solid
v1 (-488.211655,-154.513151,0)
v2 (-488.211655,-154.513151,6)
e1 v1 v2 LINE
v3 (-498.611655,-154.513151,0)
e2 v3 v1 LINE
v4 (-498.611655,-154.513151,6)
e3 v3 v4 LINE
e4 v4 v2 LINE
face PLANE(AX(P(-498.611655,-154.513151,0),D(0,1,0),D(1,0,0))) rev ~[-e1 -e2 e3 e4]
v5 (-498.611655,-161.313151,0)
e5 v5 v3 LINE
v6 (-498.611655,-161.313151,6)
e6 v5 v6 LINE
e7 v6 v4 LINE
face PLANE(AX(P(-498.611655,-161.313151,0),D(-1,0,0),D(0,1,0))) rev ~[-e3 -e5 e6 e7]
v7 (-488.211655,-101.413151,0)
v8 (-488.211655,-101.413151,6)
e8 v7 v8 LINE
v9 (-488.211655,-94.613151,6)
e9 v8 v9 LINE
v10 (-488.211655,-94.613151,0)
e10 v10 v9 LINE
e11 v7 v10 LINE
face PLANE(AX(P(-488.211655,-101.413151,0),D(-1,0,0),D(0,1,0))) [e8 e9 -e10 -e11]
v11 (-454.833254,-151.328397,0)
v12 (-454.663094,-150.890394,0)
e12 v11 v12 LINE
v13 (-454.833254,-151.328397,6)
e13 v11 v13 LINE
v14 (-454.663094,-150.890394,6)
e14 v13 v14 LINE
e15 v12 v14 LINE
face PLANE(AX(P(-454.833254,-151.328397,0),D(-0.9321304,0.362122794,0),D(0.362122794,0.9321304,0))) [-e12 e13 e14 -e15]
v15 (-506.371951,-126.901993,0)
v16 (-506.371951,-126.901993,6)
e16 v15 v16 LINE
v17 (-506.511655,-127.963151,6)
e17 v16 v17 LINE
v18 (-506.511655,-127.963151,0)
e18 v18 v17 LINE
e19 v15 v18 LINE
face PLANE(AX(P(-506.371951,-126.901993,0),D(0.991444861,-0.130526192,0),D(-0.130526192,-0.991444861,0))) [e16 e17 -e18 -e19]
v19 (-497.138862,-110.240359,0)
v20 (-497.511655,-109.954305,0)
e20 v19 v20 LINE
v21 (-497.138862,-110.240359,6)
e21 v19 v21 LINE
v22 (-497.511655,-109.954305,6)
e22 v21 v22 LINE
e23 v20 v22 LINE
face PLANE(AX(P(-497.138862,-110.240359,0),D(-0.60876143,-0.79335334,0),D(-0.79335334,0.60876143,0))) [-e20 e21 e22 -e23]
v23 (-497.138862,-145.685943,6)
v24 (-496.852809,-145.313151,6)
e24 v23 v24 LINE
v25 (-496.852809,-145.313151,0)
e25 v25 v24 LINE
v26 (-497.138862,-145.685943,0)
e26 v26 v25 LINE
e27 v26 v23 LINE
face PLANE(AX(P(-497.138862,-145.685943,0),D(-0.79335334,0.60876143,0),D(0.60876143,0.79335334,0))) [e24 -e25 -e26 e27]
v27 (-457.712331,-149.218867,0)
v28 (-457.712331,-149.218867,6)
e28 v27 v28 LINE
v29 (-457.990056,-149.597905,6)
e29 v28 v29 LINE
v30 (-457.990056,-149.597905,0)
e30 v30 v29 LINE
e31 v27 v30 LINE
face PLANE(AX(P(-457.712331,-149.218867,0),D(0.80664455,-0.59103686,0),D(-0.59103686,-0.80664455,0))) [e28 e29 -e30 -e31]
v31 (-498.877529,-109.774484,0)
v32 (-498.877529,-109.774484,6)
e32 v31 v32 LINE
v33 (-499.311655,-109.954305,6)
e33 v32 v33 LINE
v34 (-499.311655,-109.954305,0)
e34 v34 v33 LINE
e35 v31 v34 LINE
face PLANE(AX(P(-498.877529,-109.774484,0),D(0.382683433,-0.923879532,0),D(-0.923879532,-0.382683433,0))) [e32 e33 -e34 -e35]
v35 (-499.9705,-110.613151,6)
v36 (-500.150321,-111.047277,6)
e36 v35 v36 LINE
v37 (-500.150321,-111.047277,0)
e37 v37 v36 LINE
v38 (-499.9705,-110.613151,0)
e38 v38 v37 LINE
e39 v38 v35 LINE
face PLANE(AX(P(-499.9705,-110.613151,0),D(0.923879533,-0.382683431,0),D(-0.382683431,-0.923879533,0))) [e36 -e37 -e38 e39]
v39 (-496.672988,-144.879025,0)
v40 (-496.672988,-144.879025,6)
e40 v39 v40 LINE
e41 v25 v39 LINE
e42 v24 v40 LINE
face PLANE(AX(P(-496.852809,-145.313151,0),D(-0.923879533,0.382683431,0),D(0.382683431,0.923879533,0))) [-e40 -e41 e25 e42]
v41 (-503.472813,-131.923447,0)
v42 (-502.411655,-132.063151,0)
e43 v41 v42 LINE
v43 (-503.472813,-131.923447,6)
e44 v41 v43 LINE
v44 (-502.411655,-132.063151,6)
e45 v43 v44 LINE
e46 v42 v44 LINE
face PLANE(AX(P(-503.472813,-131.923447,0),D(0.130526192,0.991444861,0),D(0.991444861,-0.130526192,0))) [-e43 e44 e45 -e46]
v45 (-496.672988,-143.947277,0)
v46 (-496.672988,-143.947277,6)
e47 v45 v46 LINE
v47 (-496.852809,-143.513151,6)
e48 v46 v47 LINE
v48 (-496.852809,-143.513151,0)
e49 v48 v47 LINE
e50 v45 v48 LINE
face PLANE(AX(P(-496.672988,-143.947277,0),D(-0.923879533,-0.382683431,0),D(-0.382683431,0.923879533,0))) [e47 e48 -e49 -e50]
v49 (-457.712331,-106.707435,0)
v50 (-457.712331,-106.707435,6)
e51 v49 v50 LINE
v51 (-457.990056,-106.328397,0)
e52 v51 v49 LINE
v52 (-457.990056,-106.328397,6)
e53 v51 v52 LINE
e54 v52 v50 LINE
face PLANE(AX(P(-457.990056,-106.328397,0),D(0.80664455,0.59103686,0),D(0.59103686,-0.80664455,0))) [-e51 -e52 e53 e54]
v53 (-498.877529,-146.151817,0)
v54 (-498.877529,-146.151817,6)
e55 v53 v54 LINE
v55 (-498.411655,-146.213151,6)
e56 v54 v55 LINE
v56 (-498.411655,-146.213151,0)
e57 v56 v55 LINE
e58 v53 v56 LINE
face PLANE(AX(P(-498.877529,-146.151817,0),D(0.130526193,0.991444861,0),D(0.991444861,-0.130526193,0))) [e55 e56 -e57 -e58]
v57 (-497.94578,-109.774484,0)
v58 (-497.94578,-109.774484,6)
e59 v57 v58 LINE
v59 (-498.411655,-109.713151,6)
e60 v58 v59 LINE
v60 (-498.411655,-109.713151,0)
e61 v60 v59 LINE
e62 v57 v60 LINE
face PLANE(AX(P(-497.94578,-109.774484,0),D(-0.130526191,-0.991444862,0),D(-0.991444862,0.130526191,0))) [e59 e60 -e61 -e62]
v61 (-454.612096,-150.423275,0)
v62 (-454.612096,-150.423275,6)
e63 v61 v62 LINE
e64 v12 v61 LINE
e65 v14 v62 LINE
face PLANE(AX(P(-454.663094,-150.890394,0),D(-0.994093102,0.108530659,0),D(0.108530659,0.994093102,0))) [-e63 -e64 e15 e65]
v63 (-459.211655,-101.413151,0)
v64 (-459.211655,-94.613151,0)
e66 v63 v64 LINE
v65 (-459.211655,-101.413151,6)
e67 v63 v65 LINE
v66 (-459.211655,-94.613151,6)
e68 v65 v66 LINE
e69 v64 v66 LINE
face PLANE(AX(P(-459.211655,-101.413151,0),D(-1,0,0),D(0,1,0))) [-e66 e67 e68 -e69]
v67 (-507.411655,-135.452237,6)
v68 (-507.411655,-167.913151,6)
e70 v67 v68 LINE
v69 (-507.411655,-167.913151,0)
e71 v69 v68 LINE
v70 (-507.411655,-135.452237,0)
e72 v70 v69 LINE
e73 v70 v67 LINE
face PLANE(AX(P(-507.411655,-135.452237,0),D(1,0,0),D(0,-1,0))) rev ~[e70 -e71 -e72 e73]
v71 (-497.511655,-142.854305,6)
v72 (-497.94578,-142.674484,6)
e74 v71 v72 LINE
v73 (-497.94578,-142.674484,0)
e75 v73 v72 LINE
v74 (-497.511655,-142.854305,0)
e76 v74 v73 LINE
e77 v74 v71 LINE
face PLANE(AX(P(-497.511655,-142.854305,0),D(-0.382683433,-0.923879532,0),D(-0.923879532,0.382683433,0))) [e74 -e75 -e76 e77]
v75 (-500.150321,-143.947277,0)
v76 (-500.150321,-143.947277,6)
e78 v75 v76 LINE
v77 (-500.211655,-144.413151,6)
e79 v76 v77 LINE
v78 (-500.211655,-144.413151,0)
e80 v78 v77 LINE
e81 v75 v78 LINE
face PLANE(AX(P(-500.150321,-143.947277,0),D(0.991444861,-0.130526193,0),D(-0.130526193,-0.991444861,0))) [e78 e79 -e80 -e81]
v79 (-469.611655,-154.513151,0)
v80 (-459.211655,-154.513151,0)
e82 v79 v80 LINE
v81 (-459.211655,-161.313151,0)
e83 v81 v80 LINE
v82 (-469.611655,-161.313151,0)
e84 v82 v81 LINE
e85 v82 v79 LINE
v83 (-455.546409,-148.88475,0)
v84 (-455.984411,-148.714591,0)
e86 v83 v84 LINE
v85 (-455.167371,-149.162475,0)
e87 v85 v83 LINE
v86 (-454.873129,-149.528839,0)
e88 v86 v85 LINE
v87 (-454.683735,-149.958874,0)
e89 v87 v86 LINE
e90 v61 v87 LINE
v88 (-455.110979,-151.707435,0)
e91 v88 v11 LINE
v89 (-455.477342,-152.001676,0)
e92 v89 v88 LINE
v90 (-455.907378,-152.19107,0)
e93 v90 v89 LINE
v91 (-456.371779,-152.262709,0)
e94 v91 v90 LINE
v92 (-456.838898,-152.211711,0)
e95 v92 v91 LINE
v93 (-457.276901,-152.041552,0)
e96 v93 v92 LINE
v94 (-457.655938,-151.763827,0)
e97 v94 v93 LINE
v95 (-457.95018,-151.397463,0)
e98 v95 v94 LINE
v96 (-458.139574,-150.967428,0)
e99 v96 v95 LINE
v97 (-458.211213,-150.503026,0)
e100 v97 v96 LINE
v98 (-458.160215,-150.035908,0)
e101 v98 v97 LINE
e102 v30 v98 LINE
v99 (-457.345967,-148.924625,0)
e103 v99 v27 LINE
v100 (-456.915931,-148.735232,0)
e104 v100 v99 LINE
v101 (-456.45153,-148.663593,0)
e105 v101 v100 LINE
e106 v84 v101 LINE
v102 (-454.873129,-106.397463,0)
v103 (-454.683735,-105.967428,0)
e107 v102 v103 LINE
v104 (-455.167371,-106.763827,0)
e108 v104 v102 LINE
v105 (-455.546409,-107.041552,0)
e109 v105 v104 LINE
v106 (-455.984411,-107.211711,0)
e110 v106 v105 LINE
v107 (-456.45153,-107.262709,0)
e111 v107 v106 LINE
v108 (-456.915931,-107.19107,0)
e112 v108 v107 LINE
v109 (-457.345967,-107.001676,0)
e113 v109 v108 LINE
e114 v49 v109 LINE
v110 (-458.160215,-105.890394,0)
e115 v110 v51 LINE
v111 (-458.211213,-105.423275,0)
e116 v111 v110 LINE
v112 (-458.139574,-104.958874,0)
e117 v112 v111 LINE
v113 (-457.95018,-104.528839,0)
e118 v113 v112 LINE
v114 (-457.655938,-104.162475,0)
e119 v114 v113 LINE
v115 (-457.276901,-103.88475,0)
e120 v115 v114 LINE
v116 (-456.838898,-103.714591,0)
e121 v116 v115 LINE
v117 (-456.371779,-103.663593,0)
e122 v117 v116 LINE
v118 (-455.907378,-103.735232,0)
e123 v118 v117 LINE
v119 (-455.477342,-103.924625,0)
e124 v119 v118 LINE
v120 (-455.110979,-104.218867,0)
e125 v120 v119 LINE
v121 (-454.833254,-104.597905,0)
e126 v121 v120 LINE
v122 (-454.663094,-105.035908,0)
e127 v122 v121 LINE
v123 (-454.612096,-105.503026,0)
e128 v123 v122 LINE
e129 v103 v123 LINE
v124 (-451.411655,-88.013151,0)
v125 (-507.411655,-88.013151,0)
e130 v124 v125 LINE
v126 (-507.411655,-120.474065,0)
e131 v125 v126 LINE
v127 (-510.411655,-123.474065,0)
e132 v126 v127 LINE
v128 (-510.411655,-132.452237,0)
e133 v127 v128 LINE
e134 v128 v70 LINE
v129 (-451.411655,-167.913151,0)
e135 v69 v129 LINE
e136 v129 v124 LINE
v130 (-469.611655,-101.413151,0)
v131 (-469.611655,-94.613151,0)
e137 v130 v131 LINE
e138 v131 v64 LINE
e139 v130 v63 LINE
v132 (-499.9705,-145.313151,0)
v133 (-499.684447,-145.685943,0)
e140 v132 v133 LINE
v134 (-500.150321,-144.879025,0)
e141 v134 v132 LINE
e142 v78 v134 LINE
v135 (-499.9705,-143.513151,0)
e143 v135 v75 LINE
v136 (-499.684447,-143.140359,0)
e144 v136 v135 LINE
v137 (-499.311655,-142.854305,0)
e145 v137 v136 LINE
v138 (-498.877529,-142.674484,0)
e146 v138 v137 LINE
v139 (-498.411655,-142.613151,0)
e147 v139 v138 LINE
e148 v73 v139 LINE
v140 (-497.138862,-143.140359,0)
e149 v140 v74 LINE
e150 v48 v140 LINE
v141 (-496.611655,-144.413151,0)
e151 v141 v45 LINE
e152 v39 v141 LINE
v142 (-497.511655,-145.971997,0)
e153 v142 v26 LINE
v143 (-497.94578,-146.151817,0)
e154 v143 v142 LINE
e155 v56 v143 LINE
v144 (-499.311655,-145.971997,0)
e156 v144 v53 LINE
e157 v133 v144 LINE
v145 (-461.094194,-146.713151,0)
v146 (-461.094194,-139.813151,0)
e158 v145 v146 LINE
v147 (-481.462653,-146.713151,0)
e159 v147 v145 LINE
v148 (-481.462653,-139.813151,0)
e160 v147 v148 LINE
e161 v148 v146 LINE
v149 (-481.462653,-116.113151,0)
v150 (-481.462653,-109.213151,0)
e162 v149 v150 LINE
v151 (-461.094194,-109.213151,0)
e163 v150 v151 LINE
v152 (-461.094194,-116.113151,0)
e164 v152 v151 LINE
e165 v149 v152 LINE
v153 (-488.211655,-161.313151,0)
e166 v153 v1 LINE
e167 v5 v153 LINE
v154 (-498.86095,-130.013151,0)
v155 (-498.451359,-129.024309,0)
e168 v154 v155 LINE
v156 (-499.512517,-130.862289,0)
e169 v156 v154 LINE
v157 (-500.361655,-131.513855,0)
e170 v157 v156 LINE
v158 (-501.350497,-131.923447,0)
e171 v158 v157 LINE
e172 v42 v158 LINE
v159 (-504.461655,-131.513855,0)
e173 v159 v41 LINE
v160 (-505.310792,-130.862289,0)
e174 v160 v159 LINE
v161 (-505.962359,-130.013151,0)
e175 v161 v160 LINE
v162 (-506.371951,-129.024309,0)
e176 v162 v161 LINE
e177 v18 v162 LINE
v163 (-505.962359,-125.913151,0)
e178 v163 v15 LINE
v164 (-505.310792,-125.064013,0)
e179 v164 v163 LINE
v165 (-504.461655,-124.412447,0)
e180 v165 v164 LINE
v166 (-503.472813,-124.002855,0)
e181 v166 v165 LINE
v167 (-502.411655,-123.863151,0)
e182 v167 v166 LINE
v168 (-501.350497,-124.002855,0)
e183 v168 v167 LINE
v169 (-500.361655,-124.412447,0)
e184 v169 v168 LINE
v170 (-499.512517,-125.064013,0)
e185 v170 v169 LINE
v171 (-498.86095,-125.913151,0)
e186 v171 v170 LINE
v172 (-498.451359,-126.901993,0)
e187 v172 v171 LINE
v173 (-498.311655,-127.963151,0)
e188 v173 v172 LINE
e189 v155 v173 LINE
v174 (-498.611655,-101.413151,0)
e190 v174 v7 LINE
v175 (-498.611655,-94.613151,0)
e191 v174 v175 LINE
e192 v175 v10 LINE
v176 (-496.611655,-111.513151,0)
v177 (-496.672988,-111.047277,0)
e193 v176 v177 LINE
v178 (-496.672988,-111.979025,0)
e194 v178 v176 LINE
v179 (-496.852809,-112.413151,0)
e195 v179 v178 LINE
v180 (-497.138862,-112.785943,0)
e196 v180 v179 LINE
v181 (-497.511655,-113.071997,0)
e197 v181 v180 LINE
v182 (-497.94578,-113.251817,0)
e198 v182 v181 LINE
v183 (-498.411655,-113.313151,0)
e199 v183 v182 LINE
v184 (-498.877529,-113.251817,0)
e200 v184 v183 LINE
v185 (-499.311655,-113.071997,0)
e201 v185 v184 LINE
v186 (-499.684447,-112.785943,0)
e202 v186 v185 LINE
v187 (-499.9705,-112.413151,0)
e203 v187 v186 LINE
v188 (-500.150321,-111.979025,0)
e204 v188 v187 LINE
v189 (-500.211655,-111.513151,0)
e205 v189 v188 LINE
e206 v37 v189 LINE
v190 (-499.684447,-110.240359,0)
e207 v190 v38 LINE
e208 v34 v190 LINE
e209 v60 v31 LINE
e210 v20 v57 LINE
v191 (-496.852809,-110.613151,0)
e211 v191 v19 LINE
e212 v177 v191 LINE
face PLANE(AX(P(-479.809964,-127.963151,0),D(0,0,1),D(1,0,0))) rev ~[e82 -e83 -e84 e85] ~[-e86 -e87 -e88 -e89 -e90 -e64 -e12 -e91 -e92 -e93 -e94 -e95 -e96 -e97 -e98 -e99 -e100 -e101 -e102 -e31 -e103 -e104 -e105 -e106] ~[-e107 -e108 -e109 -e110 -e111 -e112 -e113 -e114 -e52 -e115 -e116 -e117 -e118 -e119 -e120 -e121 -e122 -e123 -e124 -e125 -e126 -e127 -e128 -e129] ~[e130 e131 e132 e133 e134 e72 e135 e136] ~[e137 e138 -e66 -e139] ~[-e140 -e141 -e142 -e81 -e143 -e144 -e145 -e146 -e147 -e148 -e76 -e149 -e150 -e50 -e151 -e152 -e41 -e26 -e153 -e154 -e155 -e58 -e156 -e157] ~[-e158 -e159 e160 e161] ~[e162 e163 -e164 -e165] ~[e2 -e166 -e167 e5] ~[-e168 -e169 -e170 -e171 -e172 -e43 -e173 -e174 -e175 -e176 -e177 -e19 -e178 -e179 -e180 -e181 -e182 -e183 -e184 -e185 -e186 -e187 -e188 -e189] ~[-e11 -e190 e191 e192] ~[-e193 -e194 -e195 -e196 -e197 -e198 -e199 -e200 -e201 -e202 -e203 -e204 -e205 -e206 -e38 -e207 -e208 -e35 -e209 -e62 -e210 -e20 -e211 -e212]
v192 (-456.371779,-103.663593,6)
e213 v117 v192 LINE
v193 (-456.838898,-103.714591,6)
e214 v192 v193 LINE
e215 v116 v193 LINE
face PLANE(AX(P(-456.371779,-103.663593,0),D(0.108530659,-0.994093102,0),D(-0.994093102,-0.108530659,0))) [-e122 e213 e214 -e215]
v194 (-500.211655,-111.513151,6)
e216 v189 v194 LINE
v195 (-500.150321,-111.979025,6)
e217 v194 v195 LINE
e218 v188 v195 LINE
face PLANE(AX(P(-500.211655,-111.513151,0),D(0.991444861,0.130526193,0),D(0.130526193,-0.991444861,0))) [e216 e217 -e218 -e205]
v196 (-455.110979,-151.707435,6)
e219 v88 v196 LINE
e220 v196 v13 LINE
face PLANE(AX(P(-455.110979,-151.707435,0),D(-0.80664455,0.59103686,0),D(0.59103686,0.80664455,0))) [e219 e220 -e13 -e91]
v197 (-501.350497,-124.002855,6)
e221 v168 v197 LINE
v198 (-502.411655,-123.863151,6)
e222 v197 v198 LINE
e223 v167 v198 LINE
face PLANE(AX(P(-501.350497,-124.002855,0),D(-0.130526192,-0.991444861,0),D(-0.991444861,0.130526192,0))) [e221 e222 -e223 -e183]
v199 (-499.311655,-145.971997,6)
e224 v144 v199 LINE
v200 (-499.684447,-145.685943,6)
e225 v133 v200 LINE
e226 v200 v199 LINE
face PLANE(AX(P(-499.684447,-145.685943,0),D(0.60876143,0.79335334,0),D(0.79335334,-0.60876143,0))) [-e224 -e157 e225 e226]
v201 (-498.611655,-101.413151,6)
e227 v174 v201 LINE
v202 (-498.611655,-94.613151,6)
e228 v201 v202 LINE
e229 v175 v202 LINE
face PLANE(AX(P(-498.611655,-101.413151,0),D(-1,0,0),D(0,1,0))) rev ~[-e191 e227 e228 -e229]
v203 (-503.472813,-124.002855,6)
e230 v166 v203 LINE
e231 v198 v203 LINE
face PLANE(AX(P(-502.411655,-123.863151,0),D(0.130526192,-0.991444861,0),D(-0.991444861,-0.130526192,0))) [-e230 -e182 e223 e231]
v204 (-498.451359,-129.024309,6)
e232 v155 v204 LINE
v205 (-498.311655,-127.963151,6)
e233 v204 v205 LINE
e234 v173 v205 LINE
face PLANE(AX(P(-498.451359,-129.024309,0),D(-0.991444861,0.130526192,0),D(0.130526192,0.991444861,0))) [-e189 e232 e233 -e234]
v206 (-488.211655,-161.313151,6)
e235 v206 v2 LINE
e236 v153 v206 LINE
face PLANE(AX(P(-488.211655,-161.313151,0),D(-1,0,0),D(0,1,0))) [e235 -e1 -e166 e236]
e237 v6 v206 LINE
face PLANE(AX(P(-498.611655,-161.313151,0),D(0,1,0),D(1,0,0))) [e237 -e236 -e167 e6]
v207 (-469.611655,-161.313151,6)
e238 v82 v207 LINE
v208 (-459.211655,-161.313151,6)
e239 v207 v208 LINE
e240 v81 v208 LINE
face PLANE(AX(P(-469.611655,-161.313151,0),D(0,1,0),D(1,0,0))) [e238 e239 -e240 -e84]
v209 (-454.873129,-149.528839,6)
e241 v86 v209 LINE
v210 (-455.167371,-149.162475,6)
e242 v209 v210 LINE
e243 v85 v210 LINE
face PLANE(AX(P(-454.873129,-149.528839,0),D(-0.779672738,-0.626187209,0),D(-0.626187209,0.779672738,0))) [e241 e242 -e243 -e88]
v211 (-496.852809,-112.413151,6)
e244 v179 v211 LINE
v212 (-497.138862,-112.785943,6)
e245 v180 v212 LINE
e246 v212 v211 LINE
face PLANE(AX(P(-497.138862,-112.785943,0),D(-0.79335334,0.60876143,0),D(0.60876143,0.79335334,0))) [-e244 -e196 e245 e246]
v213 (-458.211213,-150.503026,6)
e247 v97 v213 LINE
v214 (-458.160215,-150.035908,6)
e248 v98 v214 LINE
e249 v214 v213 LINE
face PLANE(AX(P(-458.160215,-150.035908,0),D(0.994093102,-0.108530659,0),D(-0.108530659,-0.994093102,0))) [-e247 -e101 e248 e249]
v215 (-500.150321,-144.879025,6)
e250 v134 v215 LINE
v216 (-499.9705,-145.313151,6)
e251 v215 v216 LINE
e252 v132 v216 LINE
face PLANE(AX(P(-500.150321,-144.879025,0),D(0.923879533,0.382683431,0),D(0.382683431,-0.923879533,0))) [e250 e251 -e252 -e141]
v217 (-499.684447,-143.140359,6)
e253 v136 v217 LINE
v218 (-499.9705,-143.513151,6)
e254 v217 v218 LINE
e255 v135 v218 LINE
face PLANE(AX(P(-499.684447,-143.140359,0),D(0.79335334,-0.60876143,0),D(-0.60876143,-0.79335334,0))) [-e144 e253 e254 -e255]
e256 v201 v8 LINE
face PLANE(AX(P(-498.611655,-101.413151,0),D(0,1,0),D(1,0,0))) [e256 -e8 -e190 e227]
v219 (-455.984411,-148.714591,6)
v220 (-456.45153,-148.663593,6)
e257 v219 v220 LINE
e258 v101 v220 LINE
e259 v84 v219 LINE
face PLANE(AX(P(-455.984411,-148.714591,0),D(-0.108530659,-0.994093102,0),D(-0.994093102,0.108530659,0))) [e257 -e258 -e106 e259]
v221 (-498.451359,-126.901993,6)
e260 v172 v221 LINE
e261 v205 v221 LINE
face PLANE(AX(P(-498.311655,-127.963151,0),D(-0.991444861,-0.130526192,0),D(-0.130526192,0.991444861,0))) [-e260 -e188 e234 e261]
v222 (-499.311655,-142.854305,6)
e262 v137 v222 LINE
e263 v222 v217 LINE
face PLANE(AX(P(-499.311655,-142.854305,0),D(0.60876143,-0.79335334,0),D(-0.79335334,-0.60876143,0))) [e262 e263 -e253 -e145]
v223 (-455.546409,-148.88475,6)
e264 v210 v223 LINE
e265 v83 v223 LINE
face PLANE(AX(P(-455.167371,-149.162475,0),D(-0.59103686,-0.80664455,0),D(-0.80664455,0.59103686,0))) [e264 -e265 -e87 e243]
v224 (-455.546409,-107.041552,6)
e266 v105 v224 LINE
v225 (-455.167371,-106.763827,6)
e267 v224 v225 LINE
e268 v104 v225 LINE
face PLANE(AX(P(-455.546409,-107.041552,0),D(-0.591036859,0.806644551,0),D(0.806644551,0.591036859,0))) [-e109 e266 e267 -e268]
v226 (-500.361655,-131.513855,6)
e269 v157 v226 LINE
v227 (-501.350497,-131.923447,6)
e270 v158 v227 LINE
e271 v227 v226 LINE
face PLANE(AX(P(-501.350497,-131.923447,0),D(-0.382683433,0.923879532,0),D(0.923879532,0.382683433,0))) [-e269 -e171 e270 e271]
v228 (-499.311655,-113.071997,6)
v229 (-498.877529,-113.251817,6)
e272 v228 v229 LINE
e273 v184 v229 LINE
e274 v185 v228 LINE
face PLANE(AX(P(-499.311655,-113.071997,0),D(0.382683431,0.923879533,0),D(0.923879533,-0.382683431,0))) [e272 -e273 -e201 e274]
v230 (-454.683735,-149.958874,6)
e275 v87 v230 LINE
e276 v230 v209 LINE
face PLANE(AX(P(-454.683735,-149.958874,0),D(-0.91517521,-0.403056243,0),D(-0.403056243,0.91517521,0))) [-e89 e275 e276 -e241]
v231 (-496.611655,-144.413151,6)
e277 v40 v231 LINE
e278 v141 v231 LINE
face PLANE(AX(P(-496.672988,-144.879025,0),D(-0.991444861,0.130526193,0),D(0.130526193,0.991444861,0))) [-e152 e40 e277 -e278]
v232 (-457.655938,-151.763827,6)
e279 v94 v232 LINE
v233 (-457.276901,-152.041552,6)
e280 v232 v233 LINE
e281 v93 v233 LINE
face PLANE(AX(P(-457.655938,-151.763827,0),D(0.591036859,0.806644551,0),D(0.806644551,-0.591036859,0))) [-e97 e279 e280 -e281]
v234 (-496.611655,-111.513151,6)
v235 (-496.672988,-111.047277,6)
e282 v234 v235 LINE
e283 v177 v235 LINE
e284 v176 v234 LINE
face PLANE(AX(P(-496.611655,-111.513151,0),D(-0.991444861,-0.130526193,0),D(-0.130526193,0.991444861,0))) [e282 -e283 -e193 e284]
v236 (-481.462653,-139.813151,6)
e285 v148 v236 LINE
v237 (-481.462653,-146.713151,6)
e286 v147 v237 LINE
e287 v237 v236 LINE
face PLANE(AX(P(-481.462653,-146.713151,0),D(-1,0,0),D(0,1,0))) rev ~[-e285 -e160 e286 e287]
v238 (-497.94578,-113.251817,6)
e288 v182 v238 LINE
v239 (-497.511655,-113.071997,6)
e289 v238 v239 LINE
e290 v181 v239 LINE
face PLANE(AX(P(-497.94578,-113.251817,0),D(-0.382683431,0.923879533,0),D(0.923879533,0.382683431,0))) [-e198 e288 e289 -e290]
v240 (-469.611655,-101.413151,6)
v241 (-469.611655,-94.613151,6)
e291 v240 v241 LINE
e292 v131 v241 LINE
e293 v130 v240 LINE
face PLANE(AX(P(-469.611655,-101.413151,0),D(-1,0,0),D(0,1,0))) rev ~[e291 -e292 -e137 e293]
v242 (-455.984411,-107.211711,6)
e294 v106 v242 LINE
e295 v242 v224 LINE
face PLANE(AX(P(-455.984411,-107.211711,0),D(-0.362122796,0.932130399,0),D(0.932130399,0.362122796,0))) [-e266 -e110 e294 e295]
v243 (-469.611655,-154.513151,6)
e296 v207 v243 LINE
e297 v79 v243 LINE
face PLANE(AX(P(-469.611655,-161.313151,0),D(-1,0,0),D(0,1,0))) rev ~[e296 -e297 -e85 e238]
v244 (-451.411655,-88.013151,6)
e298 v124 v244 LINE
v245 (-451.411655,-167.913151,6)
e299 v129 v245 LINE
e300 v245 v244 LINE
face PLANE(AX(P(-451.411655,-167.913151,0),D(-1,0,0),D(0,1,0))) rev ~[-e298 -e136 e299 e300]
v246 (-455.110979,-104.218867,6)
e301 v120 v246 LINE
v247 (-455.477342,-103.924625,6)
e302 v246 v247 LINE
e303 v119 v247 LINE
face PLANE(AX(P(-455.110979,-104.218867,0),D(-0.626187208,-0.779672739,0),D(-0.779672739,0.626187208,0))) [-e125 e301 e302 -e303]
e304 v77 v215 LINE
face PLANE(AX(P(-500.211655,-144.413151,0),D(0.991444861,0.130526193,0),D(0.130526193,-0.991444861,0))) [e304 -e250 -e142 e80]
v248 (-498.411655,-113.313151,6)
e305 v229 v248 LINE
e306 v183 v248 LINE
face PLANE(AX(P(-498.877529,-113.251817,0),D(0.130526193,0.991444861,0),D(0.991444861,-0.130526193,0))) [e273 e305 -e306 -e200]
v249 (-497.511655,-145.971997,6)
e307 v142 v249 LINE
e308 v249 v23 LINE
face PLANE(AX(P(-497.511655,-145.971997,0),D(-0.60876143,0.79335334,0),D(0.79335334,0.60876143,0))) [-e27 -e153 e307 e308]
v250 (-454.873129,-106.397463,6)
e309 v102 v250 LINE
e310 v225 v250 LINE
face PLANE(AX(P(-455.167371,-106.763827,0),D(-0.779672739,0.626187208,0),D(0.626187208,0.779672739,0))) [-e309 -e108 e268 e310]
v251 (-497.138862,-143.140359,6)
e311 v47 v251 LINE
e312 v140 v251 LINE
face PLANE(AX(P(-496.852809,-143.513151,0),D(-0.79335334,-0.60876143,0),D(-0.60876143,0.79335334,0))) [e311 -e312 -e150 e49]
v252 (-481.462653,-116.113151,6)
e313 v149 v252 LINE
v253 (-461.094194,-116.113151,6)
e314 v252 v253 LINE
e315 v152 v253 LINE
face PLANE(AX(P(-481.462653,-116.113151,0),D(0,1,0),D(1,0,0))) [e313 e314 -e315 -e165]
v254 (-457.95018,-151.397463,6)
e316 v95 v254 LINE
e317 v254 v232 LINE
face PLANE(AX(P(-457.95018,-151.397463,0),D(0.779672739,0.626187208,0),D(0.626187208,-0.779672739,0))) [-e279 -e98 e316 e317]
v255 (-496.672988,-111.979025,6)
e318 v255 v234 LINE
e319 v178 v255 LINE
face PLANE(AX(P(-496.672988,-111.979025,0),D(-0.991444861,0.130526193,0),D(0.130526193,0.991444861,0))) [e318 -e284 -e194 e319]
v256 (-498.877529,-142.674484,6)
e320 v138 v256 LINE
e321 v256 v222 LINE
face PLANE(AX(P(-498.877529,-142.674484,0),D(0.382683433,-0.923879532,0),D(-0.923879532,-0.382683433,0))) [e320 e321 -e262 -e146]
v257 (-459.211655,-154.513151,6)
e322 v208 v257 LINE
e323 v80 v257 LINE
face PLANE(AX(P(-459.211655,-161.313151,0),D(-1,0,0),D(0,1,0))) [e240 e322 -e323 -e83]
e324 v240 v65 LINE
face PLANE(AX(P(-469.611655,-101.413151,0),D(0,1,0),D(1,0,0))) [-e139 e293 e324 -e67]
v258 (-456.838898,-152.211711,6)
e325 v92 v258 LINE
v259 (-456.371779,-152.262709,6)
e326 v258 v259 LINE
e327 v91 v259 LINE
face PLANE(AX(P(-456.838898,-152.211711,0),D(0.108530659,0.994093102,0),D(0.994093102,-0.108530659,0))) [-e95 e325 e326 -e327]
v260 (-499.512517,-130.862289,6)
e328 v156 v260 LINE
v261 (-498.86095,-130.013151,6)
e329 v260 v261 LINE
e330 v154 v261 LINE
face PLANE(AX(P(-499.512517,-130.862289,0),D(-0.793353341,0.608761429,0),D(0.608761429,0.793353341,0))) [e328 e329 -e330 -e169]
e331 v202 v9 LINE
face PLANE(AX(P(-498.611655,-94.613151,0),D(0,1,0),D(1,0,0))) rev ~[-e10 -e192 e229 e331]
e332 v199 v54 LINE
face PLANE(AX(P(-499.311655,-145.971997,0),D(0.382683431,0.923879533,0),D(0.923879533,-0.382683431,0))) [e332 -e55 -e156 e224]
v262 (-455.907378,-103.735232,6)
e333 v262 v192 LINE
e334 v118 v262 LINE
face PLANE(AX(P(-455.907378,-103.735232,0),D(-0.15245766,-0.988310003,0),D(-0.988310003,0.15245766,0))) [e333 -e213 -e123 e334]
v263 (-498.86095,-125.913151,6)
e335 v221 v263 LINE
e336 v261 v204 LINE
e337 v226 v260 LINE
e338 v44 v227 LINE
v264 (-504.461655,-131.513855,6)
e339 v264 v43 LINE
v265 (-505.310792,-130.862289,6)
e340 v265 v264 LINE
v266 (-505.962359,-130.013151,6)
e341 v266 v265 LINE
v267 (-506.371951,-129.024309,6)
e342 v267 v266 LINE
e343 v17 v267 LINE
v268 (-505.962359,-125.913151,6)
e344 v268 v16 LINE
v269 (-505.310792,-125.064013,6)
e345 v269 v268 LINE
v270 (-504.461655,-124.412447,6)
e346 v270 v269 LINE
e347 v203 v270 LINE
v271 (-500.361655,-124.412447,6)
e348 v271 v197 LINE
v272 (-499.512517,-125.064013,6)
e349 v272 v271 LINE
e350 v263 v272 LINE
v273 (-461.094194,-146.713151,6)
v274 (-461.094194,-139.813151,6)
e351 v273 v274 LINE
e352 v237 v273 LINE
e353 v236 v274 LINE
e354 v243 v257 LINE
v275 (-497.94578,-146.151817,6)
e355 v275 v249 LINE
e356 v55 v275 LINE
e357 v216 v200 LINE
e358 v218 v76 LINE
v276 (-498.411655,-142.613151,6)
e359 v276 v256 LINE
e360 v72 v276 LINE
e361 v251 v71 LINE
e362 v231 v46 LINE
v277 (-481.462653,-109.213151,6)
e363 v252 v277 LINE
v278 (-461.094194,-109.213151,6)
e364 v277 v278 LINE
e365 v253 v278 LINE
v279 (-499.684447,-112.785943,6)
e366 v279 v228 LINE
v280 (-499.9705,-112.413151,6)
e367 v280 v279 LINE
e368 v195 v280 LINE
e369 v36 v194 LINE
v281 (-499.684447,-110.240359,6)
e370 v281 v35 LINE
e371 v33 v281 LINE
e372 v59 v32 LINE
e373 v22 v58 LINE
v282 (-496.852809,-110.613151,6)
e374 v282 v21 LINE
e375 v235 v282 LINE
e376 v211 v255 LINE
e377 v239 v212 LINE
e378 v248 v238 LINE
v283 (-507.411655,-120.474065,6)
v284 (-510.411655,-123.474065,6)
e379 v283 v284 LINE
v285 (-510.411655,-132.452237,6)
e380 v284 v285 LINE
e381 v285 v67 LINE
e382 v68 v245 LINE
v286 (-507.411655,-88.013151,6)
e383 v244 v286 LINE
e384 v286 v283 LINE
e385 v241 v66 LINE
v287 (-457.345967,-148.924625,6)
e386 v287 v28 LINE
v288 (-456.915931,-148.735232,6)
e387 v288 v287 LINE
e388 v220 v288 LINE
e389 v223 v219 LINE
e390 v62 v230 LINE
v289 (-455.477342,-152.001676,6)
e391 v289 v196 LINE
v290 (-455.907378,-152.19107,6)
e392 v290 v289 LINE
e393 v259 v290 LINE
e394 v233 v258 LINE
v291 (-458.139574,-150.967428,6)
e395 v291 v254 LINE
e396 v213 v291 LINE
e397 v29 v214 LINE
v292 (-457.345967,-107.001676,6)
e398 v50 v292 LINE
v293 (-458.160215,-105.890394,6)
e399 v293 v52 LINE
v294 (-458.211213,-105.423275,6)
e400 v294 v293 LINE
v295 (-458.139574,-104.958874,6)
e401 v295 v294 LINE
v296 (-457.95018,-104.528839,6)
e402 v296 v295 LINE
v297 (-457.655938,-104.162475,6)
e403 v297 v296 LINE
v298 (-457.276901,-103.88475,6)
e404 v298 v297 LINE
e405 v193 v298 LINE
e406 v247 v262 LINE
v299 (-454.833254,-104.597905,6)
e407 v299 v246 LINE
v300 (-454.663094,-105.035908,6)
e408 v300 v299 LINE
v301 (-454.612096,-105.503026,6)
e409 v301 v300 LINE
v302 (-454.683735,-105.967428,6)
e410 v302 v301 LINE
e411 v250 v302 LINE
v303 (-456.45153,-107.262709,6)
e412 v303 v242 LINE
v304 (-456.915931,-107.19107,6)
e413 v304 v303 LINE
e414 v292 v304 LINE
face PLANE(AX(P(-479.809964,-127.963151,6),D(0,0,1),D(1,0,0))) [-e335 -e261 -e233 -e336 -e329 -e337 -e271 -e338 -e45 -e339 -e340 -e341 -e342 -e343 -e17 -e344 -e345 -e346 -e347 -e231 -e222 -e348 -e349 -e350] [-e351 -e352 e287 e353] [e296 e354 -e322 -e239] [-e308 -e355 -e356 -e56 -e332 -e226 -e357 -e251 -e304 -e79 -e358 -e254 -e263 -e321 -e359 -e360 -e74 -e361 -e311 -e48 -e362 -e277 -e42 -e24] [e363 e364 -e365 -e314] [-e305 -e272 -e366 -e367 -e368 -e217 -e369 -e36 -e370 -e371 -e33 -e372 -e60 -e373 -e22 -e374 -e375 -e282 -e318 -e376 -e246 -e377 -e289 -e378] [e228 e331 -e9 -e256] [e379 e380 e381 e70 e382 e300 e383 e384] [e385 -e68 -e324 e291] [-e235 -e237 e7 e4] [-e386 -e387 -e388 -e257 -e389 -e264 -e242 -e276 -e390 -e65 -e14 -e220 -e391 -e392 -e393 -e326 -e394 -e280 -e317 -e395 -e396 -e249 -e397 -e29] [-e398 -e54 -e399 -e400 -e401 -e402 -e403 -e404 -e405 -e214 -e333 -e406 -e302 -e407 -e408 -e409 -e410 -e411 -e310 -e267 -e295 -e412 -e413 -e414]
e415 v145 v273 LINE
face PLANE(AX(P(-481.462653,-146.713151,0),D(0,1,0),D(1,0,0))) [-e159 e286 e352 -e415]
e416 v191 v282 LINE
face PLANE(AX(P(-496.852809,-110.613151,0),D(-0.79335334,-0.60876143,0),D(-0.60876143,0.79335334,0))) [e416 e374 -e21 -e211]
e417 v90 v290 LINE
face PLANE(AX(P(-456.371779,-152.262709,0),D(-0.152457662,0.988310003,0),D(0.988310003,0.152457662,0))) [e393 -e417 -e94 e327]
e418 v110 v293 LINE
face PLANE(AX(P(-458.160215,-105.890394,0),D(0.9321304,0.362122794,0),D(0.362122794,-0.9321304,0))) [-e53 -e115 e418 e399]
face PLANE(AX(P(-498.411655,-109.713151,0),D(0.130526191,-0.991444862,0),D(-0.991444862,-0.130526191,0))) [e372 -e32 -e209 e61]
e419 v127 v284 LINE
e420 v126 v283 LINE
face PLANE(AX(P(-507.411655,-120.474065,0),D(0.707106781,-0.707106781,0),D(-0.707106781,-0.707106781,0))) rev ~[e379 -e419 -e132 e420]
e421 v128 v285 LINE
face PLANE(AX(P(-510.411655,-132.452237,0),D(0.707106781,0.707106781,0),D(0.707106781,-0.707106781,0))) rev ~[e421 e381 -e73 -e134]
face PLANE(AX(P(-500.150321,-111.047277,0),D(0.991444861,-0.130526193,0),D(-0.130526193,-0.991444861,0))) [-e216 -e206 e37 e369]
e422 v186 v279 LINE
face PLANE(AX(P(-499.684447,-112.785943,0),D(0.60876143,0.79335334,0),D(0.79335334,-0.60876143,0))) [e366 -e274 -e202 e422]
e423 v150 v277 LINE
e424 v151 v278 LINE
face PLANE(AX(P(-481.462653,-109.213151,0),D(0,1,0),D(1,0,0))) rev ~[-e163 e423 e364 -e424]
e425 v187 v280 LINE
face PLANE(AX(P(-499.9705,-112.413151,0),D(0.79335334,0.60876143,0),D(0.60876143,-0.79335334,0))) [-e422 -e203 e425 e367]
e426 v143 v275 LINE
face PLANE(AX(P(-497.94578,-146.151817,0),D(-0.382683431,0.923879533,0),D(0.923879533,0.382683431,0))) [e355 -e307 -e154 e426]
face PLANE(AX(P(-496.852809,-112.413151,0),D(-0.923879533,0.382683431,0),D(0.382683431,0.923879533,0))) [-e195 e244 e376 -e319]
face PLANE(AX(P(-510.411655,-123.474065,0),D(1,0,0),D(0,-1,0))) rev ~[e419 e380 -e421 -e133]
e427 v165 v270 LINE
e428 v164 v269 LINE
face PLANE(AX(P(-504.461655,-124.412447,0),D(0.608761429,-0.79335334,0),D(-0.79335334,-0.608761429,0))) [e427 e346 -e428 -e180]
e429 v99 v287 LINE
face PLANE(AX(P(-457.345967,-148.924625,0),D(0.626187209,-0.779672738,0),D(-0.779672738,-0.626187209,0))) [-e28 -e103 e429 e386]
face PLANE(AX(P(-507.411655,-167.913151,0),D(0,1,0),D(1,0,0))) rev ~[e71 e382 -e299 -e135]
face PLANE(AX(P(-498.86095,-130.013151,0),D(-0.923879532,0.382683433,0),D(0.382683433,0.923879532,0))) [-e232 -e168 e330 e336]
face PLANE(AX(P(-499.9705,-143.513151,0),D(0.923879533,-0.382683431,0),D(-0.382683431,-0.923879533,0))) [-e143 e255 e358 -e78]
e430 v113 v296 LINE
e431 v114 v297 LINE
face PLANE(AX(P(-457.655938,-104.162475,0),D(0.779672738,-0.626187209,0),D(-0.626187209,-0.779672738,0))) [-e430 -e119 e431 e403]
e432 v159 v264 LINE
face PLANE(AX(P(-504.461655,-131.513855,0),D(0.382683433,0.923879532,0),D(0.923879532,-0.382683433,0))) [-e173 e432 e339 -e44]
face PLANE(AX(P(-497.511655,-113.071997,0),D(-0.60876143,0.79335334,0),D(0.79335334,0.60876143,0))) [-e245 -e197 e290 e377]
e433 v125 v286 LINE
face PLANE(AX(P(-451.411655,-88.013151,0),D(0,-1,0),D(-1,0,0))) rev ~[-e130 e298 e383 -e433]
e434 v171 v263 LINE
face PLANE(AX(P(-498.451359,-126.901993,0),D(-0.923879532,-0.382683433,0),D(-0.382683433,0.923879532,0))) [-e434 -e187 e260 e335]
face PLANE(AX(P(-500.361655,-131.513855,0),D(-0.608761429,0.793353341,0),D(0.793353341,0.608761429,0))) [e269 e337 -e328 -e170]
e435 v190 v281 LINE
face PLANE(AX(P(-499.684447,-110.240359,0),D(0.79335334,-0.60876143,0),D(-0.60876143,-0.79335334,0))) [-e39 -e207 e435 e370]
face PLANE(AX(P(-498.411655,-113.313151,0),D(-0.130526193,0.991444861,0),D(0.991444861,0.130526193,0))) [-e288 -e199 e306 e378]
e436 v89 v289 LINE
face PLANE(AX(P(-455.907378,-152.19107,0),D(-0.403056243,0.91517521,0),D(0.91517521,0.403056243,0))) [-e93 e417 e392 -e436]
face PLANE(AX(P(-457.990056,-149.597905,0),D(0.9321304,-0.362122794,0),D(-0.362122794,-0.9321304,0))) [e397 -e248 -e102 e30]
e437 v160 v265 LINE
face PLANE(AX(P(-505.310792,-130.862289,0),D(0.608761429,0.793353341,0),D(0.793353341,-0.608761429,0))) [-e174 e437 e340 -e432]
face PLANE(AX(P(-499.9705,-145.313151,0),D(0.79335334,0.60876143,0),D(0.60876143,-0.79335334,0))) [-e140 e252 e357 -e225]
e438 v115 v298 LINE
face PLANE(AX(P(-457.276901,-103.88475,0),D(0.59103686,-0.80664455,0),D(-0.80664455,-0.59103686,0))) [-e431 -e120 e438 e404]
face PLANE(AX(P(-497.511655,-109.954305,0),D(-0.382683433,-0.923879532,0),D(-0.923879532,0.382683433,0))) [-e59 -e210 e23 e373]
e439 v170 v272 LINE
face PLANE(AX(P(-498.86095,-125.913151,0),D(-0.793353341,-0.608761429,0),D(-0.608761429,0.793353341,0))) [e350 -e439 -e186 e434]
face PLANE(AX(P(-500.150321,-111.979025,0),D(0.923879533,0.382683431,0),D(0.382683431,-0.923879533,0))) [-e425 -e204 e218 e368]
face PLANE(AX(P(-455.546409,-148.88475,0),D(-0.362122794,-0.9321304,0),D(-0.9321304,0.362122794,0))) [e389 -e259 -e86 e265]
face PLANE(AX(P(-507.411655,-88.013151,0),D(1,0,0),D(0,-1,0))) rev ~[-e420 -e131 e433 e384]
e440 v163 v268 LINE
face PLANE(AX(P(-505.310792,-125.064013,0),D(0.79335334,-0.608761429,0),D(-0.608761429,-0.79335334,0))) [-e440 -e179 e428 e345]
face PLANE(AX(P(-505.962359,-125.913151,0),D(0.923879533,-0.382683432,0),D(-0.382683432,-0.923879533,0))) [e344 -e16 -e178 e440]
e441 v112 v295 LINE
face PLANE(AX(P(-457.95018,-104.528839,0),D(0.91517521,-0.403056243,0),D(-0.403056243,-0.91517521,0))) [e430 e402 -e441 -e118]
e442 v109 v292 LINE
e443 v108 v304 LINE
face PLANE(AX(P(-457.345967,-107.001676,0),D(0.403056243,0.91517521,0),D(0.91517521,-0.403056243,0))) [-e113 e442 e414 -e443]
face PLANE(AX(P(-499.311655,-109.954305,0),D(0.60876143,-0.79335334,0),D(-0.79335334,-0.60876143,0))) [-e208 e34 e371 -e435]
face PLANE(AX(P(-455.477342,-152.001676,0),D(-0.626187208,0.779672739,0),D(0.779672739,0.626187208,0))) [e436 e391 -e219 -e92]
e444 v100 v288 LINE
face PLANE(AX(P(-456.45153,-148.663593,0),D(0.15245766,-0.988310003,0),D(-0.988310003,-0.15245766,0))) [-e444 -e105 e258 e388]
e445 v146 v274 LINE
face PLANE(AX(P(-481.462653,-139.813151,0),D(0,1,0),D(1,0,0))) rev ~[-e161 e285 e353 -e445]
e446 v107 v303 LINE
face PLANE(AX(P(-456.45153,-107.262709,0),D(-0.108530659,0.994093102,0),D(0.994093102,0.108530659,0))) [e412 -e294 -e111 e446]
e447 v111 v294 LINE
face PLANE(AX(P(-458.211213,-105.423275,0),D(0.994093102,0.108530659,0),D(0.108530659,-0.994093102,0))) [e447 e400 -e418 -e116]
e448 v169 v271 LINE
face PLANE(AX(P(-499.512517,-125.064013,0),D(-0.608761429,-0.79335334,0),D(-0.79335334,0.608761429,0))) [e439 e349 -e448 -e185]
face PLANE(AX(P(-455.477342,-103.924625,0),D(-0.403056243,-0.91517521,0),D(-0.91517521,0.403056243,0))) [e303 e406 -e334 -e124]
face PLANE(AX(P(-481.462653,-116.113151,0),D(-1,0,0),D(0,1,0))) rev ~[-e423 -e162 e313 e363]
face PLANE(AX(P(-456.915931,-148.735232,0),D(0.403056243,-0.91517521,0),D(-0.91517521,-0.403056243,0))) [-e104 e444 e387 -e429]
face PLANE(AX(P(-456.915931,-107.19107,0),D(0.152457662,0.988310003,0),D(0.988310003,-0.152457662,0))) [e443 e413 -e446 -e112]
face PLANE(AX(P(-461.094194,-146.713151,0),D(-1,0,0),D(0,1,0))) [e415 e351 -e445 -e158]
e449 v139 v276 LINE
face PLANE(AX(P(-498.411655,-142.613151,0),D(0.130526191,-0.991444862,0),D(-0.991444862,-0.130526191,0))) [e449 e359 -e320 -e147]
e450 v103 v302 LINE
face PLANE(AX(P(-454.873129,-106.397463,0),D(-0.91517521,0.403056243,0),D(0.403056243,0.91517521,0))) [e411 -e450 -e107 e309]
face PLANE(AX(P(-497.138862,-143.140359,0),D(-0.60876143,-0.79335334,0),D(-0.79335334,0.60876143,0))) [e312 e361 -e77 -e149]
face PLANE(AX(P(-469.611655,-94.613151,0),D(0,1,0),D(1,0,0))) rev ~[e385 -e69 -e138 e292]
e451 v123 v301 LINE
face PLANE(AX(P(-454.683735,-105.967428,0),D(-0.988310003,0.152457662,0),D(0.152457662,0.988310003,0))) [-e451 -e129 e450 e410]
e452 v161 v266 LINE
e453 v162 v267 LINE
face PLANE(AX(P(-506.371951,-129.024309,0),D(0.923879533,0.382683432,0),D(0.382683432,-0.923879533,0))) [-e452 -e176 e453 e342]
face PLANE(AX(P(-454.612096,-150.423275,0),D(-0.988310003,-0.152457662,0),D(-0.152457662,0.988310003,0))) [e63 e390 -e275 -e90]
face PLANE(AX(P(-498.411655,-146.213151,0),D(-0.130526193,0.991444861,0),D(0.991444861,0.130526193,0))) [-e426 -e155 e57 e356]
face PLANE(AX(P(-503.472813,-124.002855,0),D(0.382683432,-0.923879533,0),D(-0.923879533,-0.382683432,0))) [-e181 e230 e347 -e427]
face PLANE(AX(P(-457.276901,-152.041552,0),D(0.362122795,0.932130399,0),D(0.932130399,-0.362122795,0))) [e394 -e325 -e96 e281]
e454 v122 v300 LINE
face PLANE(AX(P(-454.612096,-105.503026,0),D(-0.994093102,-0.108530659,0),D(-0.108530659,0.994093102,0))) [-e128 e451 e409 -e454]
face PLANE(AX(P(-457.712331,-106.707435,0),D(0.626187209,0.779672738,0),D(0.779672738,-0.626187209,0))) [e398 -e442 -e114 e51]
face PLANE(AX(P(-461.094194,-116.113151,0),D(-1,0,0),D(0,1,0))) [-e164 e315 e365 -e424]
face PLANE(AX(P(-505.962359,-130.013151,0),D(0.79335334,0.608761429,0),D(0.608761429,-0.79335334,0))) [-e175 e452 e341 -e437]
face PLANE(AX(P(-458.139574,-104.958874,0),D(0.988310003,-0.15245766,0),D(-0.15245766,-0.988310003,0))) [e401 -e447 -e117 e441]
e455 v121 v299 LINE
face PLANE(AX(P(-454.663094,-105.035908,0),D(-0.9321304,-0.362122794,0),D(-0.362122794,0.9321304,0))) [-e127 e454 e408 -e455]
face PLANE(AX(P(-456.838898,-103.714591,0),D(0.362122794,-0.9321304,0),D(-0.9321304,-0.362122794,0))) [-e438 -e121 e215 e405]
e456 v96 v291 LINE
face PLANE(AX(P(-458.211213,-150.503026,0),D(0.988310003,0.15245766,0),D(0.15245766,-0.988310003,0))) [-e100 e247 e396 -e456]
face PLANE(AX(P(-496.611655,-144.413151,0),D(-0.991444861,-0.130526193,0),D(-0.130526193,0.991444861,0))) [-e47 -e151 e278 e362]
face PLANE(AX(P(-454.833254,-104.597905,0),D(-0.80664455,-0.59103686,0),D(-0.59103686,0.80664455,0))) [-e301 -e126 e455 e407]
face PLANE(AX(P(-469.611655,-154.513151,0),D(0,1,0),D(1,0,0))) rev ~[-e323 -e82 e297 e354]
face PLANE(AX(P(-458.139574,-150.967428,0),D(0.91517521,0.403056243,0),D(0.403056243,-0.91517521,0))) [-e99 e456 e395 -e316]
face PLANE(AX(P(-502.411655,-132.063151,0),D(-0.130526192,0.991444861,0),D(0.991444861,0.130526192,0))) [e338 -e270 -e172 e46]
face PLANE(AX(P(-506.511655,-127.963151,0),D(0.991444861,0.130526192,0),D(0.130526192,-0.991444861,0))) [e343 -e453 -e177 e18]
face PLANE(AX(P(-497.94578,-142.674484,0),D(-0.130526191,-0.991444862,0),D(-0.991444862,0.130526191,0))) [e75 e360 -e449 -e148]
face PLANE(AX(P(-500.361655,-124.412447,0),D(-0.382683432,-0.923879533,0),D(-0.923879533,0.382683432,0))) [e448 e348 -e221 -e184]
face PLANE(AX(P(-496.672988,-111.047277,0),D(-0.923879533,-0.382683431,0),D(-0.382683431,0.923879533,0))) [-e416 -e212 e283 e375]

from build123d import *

# Parameters (mm, degrees)
SKETCH1_W           = 20.368459162
SKETCH1_H           = 6.9
SKETCH1_W_2         = 10.4
SKETCH1_H_2         = 6.8
BOSS_EXTRUDE1_DEPTH = 6


with BuildPart() as part:
    # Sketch1 → Boss-Extrude1 (new body)
    with BuildSketch(Plane.XY):
        Polygon((-451.41165464, -88.013150874), (-507.41165464, -88.013150874), (-507.41165464, -120.474064779), (-510.41165464, -123.474064779), (-510.41165464, -132.452236968), (-507.41165464, -135.452236968), (-507.41165464, -167.913150874), (-451.41165464, -167.913150874), align=None)
        with Locations((-471.27842313, -143.263150874)):
            Rectangle(SKETCH1_W, SKETCH1_H, mode=Mode.SUBTRACT)
        Polygon((-498.31165464, -127.963150874), (-498.451358752, -126.901992789), (-498.860950485, -125.913150874), (-499.512516837, -125.064013071), (-500.36165464, -124.412446718), (-501.350496555, -124.002854986), (-502.41165464, -123.863150874), (-503.472812725, -124.002854986), (-504.46165464, -124.412446718), (-505.310792443, -125.064013071), (-505.962358796, -125.913150874), (-506.371950528, -126.901992789), (-506.51165464, -127.963150874), (-506.371950528, -129.024308959), (-505.962358796, -130.013150874), (-505.310792443, -130.862288677), (-504.46165464, -131.513855029), (-503.472812725, -131.923446762), (-502.41165464, -132.063150874), (-501.350496555, -131.923446762), (-500.36165464, -131.513855029), (-499.512516837, -130.862288677), (-498.860950485, -130.013150874), (-498.451358752, -129.024308959), align=None, mode=Mode.SUBTRACT)
        Polygon((-499.970500367, -110.613150874), (-500.150321127, -111.047276593), (-500.21165464, -111.513150874), (-500.150321127, -111.979025155), (-499.970500367, -112.413150874), (-499.684446846, -112.78594308), (-499.31165464, -113.071996601), (-498.877528921, -113.251817361), (-498.41165464, -113.313150874), (-497.945780359, -113.251817361), (-497.51165464, -113.071996601), (-497.138862434, -112.78594308), (-496.852808913, -112.413150874), (-496.672988153, -111.979025155), (-496.61165464, -111.513150874), (-496.672988153, -111.047276593), (-496.852808913, -110.613150874), (-497.138862434, -110.240358668), (-497.51165464, -109.954305147), (-497.945780359, -109.774484386), (-498.41165464, -109.713150874), (-498.877528921, -109.774484386), (-499.31165464, -109.954305147), (-499.684446846, -110.240358668), align=None, mode=Mode.SUBTRACT)
        Polygon((-458.160214968, -105.890394107), (-457.990055534, -106.328396861), (-457.712330687, -106.707434531), (-457.345966918, -107.001676326), (-456.91593131, -107.191070154), (-456.451530081, -107.262709139), (-455.984411407, -107.211711202), (-455.546408653, -107.041551767), (-455.167370983, -106.763826921), (-454.873129188, -106.397463151), (-454.68373536, -105.967427544), (-454.612096375, -105.503026315), (-454.663094312, -105.035907641), (-454.833253746, -104.597904886), (-455.110978593, -104.218867216), (-455.477342363, -103.924625421), (-455.90737797, -103.735231593), (-456.371779199, -103.663592609), (-456.838897873, -103.714590546), (-457.276900628, -103.88474998), (-457.655938298, -104.162474827), (-457.950180093, -104.528838596), (-458.139573921, -104.958874204), (-458.211212905, -105.423275433), align=None, mode=Mode.SUBTRACT)
        with Locations((-493.41165464, -157.913150874)):
            Rectangle(SKETCH1_W_2, SKETCH1_H_2, mode=Mode.SUBTRACT)
        with Locations((-493.41165464, -98.013150874)):
            Rectangle(SKETCH1_W_2, SKETCH1_H_2, mode=Mode.SUBTRACT)
        with Locations((-471.27842313, -112.663150874)):
            Rectangle(SKETCH1_W, SKETCH1_H, mode=Mode.SUBTRACT)
        Polygon((-455.546408653, -148.88474998), (-455.984411407, -148.714590546), (-456.451530081, -148.663592609), (-456.91593131, -148.735231593), (-457.345966918, -148.924625421), (-457.712330687, -149.218867216), (-457.990055534, -149.597904886), (-458.160214968, -150.035907641), (-458.211212905, -150.503026315), (-458.139573921, -150.967427544), (-457.950180093, -151.397463151), (-457.655938298, -151.763826921), (-457.276900628, -152.041551767), (-456.838897873, -152.211711202), (-456.371779199, -152.262709139), (-455.90737797, -152.191070154), (-455.477342363, -152.001676326), (-455.110978593, -151.707434531), (-454.833253746, -151.328396861), (-454.663094312, -150.890394107), (-454.612096375, -150.423275433), (-454.68373536, -149.958874204), (-454.873129188, -149.528838596), (-455.167370983, -149.162474827), align=None, mode=Mode.SUBTRACT)
        with Locations((-464.41165464, -157.913150874)):
            Rectangle(SKETCH1_W_2, SKETCH1_H_2, mode=Mode.SUBTRACT)
        with Locations((-464.41165464, -98.013150874)):
            Rectangle(SKETCH1_W_2, SKETCH1_H_2, mode=Mode.SUBTRACT)
        Polygon((-499.970500367, -143.513150874), (-500.150321127, -143.947276593), (-500.21165464, -144.413150874), (-500.150321127, -144.879025155), (-499.970500367, -145.313150874), (-499.684446846, -145.68594308), (-499.31165464, -145.971996601), (-498.877528921, -146.151817361), (-498.41165464, -146.213150874), (-497.945780359, -146.151817361), (-497.51165464, -145.971996601), (-497.138862434, -145.68594308), (-496.852808913, -145.313150874), (-496.672988153, -144.879025155), (-496.61165464, -144.413150874), (-496.672988153, -143.947276593), (-496.852808913, -143.513150874), (-497.138862434, -143.140358668), (-497.51165464, -142.854305147), (-497.945780359, -142.674484386), (-498.41165464, -142.613150874), (-498.877528921, -142.674484386), (-499.31165464, -142.854305147), (-499.684446846, -143.140358668), align=None, mode=Mode.SUBTRACT)
    extrude(amount=BOSS_EXTRUDE1_DEPTH)


solid = part.part
